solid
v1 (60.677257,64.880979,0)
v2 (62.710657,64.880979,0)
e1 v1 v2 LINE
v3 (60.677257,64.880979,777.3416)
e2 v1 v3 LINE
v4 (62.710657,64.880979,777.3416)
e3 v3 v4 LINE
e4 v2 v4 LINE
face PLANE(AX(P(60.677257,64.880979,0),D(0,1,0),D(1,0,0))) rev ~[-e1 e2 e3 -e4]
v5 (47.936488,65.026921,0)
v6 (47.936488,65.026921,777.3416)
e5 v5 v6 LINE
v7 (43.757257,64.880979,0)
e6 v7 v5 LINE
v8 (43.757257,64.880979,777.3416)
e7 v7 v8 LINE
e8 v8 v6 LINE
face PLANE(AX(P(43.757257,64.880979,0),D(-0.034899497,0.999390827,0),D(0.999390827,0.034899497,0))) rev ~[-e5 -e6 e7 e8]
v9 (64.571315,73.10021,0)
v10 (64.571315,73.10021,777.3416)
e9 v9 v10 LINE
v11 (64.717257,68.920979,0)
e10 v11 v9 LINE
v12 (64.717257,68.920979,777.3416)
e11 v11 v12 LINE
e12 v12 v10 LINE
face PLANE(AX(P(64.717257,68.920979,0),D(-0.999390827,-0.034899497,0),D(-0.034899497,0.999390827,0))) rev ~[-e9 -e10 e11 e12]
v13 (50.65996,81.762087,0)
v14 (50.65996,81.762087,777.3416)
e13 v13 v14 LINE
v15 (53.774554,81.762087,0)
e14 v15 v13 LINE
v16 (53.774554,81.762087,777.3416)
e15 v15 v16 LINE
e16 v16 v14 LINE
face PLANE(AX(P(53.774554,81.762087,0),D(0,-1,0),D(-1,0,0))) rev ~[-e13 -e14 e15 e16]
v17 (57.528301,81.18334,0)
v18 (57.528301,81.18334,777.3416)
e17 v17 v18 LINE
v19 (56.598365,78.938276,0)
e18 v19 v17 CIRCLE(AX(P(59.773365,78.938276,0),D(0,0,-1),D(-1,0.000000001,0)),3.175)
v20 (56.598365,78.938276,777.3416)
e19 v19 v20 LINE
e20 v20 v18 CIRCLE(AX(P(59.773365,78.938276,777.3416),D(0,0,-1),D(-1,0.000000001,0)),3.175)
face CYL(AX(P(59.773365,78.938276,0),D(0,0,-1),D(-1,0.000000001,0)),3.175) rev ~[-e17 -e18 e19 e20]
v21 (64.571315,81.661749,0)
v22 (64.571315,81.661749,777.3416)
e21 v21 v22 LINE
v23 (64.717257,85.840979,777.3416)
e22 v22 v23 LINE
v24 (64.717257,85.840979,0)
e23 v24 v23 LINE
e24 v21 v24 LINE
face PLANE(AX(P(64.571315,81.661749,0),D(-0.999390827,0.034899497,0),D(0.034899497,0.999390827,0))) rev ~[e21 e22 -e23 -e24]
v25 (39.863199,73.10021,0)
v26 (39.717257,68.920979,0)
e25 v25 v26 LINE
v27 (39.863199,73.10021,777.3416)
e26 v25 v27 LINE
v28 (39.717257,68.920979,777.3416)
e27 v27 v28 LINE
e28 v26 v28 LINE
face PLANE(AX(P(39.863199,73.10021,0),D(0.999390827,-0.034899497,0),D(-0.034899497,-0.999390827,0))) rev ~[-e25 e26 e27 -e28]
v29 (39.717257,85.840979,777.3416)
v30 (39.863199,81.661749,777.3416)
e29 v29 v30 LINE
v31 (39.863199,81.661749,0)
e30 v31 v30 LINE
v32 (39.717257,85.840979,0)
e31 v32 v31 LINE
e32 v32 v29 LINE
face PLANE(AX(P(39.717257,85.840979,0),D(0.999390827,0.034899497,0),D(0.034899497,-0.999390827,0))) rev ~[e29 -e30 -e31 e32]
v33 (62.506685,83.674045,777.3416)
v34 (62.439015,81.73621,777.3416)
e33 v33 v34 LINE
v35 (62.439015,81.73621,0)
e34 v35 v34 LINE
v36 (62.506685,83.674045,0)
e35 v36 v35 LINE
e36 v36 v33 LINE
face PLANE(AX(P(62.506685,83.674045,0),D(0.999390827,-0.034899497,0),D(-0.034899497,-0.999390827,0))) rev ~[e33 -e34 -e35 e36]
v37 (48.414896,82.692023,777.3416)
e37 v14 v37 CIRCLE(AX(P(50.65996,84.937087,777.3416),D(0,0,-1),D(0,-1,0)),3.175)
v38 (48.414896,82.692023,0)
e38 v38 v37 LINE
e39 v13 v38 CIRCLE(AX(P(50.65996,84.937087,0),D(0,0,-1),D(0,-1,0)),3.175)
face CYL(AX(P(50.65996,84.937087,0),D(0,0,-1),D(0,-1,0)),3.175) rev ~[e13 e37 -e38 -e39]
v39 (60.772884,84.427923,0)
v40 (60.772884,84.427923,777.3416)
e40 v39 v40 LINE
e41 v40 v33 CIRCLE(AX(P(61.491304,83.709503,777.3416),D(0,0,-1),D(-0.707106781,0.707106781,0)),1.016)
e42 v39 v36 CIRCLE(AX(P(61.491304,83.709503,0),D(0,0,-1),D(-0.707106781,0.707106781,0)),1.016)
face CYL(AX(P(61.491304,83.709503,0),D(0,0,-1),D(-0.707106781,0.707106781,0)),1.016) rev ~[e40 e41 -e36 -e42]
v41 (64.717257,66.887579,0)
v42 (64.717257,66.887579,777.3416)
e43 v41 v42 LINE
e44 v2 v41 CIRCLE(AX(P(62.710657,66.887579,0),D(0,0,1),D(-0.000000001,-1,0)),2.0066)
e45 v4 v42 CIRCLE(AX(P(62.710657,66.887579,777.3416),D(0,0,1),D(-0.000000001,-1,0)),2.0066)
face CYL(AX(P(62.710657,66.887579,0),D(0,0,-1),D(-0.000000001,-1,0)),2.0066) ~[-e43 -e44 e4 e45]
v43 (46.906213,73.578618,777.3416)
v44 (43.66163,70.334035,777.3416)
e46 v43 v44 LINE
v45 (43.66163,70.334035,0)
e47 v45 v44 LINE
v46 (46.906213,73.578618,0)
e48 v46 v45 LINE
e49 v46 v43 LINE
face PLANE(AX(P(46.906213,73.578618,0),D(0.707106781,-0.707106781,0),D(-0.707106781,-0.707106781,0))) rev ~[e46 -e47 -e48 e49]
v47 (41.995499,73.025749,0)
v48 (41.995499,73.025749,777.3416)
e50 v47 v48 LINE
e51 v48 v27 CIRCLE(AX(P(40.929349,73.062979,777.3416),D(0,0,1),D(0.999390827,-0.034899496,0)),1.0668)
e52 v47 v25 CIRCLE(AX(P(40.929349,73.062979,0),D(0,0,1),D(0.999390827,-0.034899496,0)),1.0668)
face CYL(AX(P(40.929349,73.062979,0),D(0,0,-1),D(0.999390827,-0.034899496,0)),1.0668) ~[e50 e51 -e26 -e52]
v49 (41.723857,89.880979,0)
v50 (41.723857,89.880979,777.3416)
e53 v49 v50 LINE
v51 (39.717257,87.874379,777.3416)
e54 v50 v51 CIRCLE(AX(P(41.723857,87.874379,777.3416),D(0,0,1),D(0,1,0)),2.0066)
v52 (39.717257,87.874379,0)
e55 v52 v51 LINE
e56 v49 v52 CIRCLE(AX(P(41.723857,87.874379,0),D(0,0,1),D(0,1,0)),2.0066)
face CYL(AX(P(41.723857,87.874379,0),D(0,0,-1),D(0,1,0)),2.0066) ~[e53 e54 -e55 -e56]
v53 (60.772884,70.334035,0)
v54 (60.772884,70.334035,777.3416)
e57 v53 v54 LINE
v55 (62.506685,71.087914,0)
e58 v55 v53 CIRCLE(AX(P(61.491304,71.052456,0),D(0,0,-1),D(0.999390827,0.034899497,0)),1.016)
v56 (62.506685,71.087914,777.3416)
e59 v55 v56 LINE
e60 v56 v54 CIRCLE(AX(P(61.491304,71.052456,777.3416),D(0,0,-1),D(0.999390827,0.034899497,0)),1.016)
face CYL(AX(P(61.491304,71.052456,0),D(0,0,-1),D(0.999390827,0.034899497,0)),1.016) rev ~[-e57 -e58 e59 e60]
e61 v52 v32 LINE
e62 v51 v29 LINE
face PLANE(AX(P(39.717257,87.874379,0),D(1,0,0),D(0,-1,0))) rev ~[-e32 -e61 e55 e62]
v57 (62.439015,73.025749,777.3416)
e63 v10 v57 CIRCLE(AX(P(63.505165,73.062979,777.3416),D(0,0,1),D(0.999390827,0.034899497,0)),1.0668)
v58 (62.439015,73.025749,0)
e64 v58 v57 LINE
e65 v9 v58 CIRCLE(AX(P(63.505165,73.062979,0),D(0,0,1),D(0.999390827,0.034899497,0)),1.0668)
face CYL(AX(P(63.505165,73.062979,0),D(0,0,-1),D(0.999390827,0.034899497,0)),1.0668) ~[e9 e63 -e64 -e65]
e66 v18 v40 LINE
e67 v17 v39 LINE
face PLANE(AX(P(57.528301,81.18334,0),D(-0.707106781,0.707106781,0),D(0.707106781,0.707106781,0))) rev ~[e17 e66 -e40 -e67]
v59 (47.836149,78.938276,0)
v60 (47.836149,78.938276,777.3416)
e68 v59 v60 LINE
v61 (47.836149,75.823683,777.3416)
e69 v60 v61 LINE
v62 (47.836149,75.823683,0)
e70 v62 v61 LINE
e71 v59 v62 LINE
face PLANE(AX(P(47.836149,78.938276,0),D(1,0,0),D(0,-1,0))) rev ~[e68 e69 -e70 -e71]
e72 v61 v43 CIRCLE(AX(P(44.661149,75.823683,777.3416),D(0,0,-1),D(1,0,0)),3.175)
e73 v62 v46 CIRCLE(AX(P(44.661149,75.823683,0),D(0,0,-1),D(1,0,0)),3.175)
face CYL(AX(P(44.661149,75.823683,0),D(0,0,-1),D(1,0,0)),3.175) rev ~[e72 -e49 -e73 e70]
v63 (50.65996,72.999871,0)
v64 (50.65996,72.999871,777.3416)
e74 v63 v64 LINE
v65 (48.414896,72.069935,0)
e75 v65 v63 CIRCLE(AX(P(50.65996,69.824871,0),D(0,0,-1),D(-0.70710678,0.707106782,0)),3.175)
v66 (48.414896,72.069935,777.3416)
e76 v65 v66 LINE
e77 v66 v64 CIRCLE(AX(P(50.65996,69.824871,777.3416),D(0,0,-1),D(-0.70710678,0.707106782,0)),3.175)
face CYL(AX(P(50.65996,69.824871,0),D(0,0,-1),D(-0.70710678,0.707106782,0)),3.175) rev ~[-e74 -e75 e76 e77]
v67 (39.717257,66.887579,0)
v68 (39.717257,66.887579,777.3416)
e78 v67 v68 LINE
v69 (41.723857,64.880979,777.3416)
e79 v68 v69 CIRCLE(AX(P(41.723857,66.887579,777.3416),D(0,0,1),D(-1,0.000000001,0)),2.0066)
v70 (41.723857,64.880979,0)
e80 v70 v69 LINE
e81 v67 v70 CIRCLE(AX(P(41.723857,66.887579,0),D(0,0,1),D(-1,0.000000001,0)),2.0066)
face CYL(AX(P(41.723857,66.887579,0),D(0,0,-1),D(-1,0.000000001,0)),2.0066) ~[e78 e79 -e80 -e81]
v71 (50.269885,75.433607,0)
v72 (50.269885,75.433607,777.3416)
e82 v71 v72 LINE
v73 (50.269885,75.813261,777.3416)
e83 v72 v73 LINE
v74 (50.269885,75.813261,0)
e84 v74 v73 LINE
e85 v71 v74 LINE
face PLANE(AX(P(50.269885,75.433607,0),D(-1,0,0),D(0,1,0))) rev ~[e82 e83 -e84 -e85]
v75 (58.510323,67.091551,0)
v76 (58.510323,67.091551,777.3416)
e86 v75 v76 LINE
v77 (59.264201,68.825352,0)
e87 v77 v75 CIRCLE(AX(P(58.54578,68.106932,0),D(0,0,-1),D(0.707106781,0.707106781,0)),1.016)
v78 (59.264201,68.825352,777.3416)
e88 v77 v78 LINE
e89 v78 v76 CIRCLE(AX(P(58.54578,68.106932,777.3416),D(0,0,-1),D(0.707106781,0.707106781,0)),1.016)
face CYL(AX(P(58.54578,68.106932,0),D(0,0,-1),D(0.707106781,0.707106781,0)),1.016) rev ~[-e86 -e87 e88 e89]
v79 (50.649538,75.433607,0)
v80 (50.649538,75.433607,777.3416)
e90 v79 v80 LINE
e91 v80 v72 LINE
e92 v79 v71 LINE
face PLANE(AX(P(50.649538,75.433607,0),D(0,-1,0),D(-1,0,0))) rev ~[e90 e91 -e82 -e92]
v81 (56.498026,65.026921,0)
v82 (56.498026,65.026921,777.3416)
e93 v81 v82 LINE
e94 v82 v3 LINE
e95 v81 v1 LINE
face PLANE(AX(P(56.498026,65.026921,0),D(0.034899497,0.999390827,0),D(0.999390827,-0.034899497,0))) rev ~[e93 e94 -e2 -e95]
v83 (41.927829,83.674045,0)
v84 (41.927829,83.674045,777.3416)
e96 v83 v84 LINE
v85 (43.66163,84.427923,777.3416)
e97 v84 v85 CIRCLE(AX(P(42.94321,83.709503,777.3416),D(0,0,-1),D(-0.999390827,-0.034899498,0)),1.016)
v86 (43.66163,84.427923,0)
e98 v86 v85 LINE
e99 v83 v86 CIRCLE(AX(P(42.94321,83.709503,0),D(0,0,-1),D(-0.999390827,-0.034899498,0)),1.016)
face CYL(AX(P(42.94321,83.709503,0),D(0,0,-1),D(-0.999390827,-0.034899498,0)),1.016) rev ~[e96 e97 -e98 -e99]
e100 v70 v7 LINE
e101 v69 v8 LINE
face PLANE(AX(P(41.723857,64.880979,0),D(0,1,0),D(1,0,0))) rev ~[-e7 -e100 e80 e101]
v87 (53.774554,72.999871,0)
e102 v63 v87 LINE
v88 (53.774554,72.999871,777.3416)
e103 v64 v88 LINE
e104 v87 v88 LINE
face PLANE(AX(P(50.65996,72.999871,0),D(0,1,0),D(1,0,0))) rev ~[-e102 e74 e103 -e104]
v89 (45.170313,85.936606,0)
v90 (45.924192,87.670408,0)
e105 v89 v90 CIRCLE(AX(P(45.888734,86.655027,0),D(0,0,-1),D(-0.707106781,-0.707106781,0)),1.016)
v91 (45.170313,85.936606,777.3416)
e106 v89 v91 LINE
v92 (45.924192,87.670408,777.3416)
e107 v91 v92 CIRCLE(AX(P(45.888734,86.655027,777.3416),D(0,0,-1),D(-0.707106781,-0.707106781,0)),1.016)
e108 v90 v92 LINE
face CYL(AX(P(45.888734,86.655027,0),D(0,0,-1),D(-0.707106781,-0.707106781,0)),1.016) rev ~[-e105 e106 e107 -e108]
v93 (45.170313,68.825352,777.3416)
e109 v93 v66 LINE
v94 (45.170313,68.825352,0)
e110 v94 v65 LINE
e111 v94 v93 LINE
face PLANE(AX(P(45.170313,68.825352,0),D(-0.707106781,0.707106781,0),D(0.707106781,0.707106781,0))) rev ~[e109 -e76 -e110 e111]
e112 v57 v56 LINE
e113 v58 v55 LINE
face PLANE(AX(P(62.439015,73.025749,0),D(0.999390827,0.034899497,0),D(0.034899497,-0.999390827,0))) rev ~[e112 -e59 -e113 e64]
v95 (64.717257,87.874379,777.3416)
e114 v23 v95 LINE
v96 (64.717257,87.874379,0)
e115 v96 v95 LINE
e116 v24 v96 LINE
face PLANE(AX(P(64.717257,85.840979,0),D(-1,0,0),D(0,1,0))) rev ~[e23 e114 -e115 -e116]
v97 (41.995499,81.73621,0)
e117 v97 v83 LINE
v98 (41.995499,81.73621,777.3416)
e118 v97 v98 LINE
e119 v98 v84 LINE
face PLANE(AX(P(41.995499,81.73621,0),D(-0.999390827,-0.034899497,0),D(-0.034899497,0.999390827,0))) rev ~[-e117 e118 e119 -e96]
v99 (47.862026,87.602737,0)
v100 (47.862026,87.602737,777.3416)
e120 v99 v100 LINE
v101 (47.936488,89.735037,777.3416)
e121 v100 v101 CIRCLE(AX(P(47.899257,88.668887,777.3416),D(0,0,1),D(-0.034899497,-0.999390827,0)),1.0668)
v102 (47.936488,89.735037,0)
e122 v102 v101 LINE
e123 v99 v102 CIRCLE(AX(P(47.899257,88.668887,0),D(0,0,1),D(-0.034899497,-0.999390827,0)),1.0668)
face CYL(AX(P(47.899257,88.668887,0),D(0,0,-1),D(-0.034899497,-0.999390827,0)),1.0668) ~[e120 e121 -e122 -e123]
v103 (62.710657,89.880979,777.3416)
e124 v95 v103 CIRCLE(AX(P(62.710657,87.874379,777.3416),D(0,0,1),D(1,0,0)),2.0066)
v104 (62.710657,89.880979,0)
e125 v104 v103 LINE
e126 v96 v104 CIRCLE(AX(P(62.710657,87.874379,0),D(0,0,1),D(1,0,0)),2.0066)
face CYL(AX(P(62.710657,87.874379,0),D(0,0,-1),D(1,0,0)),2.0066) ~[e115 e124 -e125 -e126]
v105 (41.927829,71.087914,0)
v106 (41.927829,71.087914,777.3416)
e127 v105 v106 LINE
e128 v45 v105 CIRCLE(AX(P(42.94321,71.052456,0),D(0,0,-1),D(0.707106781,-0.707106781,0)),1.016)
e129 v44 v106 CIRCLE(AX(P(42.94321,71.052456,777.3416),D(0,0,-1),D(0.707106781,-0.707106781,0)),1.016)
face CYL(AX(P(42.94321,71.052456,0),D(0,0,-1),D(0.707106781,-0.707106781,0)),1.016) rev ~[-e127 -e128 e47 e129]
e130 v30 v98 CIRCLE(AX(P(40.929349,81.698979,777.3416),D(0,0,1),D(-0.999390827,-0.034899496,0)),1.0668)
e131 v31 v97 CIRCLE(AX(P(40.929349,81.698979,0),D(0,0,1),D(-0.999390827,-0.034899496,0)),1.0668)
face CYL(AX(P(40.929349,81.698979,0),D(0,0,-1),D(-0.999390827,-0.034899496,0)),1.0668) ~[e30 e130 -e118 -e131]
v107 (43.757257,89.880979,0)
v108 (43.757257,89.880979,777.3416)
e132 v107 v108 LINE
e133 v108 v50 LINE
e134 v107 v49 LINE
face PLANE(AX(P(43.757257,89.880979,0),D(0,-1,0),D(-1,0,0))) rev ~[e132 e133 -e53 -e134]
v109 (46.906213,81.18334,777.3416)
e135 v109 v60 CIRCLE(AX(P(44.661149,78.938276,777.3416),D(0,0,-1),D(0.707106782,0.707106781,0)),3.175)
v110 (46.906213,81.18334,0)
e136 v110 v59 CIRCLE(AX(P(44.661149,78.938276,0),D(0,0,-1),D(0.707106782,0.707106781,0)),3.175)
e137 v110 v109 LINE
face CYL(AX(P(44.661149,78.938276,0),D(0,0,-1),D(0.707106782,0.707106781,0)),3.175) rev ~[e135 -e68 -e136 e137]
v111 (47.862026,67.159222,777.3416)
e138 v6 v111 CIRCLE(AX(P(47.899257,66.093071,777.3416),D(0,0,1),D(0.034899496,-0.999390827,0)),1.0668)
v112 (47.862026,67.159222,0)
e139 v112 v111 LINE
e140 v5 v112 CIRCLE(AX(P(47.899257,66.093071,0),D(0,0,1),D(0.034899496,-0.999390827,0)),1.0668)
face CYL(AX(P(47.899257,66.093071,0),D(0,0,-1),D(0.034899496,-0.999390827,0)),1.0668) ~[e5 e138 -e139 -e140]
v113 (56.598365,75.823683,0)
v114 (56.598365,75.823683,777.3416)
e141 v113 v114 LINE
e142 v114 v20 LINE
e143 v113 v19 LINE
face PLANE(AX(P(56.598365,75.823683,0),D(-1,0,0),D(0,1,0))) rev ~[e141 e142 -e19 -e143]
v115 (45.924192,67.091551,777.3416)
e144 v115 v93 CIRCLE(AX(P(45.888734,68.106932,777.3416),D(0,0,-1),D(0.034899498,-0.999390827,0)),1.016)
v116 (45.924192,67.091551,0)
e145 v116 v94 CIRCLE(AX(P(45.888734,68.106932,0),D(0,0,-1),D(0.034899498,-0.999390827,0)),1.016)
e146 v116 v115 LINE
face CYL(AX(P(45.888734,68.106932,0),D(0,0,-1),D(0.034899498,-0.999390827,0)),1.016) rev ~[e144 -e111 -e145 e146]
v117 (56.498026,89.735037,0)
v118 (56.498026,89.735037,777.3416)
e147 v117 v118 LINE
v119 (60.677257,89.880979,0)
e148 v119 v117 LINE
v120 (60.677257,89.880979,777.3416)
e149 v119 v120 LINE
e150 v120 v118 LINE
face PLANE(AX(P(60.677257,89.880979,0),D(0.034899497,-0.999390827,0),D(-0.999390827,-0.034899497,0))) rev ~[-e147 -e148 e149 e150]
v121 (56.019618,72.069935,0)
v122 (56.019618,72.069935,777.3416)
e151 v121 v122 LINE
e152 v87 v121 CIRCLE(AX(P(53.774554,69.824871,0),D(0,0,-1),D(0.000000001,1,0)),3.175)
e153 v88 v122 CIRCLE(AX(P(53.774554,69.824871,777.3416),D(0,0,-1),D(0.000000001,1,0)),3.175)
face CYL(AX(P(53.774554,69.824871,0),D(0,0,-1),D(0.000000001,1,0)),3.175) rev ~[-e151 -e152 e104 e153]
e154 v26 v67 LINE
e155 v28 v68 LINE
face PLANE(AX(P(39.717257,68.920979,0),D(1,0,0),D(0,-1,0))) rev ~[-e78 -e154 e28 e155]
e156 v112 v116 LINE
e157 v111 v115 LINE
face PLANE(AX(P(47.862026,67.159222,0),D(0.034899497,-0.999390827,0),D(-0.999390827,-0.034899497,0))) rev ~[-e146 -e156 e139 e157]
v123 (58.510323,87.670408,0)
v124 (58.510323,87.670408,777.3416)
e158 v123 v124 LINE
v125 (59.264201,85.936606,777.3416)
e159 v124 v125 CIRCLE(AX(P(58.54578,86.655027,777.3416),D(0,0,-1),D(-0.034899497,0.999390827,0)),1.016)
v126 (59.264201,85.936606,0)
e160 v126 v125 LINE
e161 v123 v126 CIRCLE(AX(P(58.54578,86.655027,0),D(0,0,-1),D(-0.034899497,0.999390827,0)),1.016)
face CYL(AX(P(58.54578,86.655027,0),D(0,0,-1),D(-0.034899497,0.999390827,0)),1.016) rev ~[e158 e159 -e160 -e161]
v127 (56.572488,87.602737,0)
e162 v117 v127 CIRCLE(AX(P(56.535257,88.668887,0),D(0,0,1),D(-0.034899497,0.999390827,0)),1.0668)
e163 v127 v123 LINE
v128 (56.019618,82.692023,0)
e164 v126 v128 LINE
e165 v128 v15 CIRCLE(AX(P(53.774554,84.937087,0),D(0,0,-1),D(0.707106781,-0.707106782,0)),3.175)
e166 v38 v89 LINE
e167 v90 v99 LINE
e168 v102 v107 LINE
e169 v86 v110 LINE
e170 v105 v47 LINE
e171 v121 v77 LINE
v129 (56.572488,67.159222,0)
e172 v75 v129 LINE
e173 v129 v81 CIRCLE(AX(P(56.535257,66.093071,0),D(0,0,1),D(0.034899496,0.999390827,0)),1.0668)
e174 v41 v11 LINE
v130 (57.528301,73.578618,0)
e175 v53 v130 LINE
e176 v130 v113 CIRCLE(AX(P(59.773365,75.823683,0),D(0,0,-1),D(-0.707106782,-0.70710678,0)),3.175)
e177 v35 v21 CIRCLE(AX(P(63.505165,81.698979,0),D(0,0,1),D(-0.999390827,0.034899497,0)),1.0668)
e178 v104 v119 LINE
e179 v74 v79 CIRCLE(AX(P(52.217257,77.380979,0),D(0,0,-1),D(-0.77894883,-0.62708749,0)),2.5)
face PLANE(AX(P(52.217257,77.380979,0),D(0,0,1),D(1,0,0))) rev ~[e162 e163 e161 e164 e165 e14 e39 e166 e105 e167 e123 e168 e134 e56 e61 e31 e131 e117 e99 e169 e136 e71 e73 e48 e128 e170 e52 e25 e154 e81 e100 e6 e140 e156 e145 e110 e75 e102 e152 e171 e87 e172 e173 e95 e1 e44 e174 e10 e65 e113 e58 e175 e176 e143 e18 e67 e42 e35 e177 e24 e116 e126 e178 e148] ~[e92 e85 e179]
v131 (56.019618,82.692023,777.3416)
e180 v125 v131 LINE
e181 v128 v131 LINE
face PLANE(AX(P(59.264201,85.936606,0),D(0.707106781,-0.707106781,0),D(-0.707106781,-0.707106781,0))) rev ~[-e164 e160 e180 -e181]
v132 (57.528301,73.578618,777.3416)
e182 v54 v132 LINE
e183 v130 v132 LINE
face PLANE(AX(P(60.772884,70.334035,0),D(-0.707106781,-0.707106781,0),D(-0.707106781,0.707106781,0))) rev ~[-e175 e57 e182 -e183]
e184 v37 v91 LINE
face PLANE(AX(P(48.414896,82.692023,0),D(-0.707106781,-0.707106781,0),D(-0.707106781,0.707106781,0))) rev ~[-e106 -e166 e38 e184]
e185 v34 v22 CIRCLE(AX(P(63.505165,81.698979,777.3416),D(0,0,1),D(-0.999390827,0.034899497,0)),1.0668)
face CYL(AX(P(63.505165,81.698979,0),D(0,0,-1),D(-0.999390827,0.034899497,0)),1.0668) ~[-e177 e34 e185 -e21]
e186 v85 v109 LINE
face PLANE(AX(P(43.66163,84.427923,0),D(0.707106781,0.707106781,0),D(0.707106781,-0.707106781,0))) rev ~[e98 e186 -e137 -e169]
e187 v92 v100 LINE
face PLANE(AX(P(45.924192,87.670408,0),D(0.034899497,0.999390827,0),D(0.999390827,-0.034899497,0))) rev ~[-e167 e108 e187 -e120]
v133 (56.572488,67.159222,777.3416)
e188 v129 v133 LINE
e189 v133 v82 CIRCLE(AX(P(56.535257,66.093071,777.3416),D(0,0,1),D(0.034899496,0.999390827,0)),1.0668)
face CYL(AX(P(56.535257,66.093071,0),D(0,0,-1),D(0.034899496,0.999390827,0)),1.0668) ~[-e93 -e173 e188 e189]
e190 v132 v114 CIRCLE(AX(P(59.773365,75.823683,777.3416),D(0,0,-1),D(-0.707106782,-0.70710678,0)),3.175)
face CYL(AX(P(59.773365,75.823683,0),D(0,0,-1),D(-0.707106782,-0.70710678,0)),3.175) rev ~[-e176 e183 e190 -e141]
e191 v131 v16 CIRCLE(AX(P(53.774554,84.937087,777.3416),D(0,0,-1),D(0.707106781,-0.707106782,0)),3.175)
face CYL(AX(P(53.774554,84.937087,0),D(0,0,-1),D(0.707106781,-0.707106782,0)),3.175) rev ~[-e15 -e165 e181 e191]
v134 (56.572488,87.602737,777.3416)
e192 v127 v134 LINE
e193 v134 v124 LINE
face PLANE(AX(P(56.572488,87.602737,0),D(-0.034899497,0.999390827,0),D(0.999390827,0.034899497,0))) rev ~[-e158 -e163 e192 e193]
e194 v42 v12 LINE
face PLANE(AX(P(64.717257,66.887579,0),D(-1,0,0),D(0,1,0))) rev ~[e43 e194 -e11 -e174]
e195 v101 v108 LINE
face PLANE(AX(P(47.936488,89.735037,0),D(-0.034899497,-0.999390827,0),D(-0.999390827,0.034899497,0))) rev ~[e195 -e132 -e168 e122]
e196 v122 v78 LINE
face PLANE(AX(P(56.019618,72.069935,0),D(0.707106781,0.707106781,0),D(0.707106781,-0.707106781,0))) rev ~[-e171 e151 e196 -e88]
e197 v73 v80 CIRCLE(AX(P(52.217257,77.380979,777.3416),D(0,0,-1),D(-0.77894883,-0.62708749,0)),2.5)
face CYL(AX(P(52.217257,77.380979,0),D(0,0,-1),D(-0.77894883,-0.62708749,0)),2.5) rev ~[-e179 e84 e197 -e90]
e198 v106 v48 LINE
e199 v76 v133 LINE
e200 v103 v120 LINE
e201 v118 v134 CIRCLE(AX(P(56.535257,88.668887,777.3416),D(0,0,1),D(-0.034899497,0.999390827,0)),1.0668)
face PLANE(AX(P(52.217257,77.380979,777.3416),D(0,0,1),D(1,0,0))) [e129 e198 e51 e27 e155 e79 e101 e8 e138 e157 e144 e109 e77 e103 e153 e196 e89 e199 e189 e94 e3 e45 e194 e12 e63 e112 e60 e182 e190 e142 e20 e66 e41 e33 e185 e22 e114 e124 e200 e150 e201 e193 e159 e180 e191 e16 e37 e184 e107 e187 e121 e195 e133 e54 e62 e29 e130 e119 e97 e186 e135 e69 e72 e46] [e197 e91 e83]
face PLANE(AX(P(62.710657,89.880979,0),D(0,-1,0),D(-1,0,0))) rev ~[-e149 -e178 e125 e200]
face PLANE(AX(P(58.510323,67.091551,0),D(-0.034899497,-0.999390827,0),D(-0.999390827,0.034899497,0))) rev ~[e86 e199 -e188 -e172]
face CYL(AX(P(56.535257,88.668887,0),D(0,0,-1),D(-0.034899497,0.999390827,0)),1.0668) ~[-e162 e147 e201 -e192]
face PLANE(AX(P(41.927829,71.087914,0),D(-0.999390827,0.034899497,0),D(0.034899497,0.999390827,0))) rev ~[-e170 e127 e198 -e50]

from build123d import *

# Parameters (mm, degrees)
BOSS_EXTRUDE1_DEPTH = 777.3416


with BuildPart() as part:
    # Model → Boss-Extrude1 (new body)
    with BuildSketch(Plane.XY):
        with BuildLine():
            Line((50.659960212, 72.999871414), (53.774553856, 72.999871414))
            ThreePointArc((53.774553856, 72.999871414), (54.989573754, 72.758188929), (56.019617887, 72.069935444))
            Line((56.019617887, 72.069935444), (59.264200891, 68.825352439))
            ThreePointArc((59.264200891, 68.825352439), (59.477513437, 67.701802895), (58.510322513, 67.091550869))
            Line((58.510322513, 67.091550869), (56.572487817, 67.159221548))
            ThreePointArc((56.572487817, 67.159221548), (55.4691069, 66.130302197), (56.498026251, 65.026921279))
            Line((56.498026251, 65.026921279), (60.677257034, 64.880979325))
            Line((60.677257034, 64.880979325), (62.710657034, 64.880979325))
            ThreePointArc((62.710657034, 64.880979325), (64.129537501, 65.468698857), (64.717257034, 66.887579325))
            Line((64.717257034, 66.887579325), (64.717257034, 68.920979325))
            Line((64.717257034, 68.920979325), (64.57131508, 73.100210108))
            ThreePointArc((64.57131508, 73.100210108), (63.467934162, 74.129129459), (62.439014811, 73.025748542))
            Line((62.439014811, 73.025748542), (62.50668549, 71.087913846))
            ThreePointArc((62.50668549, 71.087913846), (61.896433464, 70.120722922), (60.77288392, 70.334035468))
            Line((60.77288392, 70.334035468), (57.528300915, 73.578618472))
            ThreePointArc((57.528300915, 73.578618472), (56.84004743, 74.608662605), (56.598364945, 75.823682503))
            Line((56.598364945, 75.823682503), (56.598364945, 78.938276147))
            ThreePointArc((56.598364945, 78.938276147), (56.84004743, 80.153296044), (57.528300915, 81.183340177))
            Line((57.528300915, 81.183340177), (60.77288392, 84.427923182))
            ThreePointArc((60.77288392, 84.427923182), (61.896433464, 84.641235728), (62.50668549, 83.674044803))
            Line((62.50668549, 83.674044803), (62.439014811, 81.736210108))
            ThreePointArc((62.439014811, 81.736210108), (63.467934162, 80.63282919), (64.57131508, 81.661748542))
            Line((64.57131508, 81.661748542), (64.717257034, 85.840979325))
            Line((64.717257034, 85.840979325), (64.717257034, 87.874379325))
            ThreePointArc((64.717257034, 87.874379325), (64.129537501, 89.293259792), (62.710657034, 89.880979325))
            Line((62.710657034, 89.880979325), (60.677257034, 89.880979325))
            Line((60.677257034, 89.880979325), (56.498026251, 89.73503737))
            ThreePointArc((56.498026251, 89.73503737), (55.4691069, 88.631656452), (56.572487817, 87.602737101))
            Line((56.572487817, 87.602737101), (58.510322513, 87.67040778))
            ThreePointArc((58.510322513, 87.67040778), (59.477513437, 87.060155754), (59.264200891, 85.93660621))
            Line((59.264200891, 85.93660621), (56.019617887, 82.692023205))
            ThreePointArc((56.019617887, 82.692023205), (54.989573754, 82.00376972), (53.774553856, 81.762087236))
            Line((53.774553856, 81.762087236), (50.659960212, 81.762087236))
            ThreePointArc((50.659960212, 81.762087236), (49.444940315, 82.00376972), (48.414896182, 82.692023205))
            Line((48.414896182, 82.692023205), (45.170313177, 85.93660621))
            ThreePointArc((45.170313177, 85.93660621), (44.957000631, 87.060155754), (45.924191556, 87.67040778))
            Line((45.924191556, 87.67040778), (47.862026251, 87.602737101))
            ThreePointArc((47.862026251, 87.602737101), (48.965407169, 88.631656452), (47.936487817, 89.73503737))
            Line((47.936487817, 89.73503737), (43.757257034, 89.880979325))
            Line((43.757257034, 89.880979325), (41.723857034, 89.880979325))
            ThreePointArc((41.723857034, 89.880979325), (40.304976567, 89.293259792), (39.717257034, 87.874379325))
            Line((39.717257034, 87.874379325), (39.717257034, 85.840979325))
            Line((39.717257034, 85.840979325), (39.863198989, 81.661748542))
            ThreePointArc((39.863198989, 81.661748542), (40.966579907, 80.63282919), (41.995499258, 81.736210108))
            Line((41.995499258, 81.736210108), (41.927828579, 83.674044803))
            ThreePointArc((41.927828579, 83.674044803), (42.538080605, 84.641235728), (43.661630149, 84.427923182))
            Line((43.661630149, 84.427923182), (46.906213154, 81.183340177))
            ThreePointArc((46.906213154, 81.183340177), (47.594466639, 80.153296044), (47.836149123, 78.938276147))
            Line((47.836149123, 78.938276147), (47.836149123, 75.823682503))
            ThreePointArc((47.836149123, 75.823682503), (47.594466639, 74.608662605), (46.906213154, 73.578618472))
            Line((46.906213154, 73.578618472), (43.661630149, 70.334035468))
            ThreePointArc((43.661630149, 70.334035468), (42.538080605, 70.120722922), (41.927828579, 71.087913846))
            Line((41.927828579, 71.087913846), (41.995499258, 73.025748542))
            ThreePointArc((41.995499258, 73.025748542), (40.966579907, 74.129129459), (39.863198989, 73.100210108))
            Line((39.863198989, 73.100210108), (39.717257034, 68.920979325))
            Line((39.717257034, 68.920979325), (39.717257034, 66.887579325))
            ThreePointArc((39.717257034, 66.887579325), (40.304976567, 65.468698857), (41.723857034, 64.880979325))
            Line((41.723857034, 64.880979325), (43.757257034, 64.880979325))
            Line((43.757257034, 64.880979325), (47.936487817, 65.026921279))
            ThreePointArc((47.936487817, 65.026921279), (48.965407169, 66.130302197), (47.862026251, 67.159221548))
            Line((47.862026251, 67.159221548), (45.924191556, 67.091550869))
            ThreePointArc((45.924191556, 67.091550869), (44.957000631, 67.701802895), (45.170313177, 68.825352439))
            Line((45.170313177, 68.825352439), (48.414896182, 72.069935444))
            ThreePointArc((48.414896182, 72.069935444), (49.444940315, 72.758188929), (50.659960212, 72.999871414))
        make_face()
        with BuildLine():
            Line((50.64953831, 75.433607249), (50.269884959, 75.433607249))
            Line((50.269884959, 75.433607249), (50.269884959, 75.8132606))
            ThreePointArc((50.269884959, 75.8132606), (53.985023987, 79.148746278), (50.64953831, 75.433607249))
        make_face(mode=Mode.SUBTRACT)
    extrude(amount=BOSS_EXTRUDE1_DEPTH)


solid = part.part
